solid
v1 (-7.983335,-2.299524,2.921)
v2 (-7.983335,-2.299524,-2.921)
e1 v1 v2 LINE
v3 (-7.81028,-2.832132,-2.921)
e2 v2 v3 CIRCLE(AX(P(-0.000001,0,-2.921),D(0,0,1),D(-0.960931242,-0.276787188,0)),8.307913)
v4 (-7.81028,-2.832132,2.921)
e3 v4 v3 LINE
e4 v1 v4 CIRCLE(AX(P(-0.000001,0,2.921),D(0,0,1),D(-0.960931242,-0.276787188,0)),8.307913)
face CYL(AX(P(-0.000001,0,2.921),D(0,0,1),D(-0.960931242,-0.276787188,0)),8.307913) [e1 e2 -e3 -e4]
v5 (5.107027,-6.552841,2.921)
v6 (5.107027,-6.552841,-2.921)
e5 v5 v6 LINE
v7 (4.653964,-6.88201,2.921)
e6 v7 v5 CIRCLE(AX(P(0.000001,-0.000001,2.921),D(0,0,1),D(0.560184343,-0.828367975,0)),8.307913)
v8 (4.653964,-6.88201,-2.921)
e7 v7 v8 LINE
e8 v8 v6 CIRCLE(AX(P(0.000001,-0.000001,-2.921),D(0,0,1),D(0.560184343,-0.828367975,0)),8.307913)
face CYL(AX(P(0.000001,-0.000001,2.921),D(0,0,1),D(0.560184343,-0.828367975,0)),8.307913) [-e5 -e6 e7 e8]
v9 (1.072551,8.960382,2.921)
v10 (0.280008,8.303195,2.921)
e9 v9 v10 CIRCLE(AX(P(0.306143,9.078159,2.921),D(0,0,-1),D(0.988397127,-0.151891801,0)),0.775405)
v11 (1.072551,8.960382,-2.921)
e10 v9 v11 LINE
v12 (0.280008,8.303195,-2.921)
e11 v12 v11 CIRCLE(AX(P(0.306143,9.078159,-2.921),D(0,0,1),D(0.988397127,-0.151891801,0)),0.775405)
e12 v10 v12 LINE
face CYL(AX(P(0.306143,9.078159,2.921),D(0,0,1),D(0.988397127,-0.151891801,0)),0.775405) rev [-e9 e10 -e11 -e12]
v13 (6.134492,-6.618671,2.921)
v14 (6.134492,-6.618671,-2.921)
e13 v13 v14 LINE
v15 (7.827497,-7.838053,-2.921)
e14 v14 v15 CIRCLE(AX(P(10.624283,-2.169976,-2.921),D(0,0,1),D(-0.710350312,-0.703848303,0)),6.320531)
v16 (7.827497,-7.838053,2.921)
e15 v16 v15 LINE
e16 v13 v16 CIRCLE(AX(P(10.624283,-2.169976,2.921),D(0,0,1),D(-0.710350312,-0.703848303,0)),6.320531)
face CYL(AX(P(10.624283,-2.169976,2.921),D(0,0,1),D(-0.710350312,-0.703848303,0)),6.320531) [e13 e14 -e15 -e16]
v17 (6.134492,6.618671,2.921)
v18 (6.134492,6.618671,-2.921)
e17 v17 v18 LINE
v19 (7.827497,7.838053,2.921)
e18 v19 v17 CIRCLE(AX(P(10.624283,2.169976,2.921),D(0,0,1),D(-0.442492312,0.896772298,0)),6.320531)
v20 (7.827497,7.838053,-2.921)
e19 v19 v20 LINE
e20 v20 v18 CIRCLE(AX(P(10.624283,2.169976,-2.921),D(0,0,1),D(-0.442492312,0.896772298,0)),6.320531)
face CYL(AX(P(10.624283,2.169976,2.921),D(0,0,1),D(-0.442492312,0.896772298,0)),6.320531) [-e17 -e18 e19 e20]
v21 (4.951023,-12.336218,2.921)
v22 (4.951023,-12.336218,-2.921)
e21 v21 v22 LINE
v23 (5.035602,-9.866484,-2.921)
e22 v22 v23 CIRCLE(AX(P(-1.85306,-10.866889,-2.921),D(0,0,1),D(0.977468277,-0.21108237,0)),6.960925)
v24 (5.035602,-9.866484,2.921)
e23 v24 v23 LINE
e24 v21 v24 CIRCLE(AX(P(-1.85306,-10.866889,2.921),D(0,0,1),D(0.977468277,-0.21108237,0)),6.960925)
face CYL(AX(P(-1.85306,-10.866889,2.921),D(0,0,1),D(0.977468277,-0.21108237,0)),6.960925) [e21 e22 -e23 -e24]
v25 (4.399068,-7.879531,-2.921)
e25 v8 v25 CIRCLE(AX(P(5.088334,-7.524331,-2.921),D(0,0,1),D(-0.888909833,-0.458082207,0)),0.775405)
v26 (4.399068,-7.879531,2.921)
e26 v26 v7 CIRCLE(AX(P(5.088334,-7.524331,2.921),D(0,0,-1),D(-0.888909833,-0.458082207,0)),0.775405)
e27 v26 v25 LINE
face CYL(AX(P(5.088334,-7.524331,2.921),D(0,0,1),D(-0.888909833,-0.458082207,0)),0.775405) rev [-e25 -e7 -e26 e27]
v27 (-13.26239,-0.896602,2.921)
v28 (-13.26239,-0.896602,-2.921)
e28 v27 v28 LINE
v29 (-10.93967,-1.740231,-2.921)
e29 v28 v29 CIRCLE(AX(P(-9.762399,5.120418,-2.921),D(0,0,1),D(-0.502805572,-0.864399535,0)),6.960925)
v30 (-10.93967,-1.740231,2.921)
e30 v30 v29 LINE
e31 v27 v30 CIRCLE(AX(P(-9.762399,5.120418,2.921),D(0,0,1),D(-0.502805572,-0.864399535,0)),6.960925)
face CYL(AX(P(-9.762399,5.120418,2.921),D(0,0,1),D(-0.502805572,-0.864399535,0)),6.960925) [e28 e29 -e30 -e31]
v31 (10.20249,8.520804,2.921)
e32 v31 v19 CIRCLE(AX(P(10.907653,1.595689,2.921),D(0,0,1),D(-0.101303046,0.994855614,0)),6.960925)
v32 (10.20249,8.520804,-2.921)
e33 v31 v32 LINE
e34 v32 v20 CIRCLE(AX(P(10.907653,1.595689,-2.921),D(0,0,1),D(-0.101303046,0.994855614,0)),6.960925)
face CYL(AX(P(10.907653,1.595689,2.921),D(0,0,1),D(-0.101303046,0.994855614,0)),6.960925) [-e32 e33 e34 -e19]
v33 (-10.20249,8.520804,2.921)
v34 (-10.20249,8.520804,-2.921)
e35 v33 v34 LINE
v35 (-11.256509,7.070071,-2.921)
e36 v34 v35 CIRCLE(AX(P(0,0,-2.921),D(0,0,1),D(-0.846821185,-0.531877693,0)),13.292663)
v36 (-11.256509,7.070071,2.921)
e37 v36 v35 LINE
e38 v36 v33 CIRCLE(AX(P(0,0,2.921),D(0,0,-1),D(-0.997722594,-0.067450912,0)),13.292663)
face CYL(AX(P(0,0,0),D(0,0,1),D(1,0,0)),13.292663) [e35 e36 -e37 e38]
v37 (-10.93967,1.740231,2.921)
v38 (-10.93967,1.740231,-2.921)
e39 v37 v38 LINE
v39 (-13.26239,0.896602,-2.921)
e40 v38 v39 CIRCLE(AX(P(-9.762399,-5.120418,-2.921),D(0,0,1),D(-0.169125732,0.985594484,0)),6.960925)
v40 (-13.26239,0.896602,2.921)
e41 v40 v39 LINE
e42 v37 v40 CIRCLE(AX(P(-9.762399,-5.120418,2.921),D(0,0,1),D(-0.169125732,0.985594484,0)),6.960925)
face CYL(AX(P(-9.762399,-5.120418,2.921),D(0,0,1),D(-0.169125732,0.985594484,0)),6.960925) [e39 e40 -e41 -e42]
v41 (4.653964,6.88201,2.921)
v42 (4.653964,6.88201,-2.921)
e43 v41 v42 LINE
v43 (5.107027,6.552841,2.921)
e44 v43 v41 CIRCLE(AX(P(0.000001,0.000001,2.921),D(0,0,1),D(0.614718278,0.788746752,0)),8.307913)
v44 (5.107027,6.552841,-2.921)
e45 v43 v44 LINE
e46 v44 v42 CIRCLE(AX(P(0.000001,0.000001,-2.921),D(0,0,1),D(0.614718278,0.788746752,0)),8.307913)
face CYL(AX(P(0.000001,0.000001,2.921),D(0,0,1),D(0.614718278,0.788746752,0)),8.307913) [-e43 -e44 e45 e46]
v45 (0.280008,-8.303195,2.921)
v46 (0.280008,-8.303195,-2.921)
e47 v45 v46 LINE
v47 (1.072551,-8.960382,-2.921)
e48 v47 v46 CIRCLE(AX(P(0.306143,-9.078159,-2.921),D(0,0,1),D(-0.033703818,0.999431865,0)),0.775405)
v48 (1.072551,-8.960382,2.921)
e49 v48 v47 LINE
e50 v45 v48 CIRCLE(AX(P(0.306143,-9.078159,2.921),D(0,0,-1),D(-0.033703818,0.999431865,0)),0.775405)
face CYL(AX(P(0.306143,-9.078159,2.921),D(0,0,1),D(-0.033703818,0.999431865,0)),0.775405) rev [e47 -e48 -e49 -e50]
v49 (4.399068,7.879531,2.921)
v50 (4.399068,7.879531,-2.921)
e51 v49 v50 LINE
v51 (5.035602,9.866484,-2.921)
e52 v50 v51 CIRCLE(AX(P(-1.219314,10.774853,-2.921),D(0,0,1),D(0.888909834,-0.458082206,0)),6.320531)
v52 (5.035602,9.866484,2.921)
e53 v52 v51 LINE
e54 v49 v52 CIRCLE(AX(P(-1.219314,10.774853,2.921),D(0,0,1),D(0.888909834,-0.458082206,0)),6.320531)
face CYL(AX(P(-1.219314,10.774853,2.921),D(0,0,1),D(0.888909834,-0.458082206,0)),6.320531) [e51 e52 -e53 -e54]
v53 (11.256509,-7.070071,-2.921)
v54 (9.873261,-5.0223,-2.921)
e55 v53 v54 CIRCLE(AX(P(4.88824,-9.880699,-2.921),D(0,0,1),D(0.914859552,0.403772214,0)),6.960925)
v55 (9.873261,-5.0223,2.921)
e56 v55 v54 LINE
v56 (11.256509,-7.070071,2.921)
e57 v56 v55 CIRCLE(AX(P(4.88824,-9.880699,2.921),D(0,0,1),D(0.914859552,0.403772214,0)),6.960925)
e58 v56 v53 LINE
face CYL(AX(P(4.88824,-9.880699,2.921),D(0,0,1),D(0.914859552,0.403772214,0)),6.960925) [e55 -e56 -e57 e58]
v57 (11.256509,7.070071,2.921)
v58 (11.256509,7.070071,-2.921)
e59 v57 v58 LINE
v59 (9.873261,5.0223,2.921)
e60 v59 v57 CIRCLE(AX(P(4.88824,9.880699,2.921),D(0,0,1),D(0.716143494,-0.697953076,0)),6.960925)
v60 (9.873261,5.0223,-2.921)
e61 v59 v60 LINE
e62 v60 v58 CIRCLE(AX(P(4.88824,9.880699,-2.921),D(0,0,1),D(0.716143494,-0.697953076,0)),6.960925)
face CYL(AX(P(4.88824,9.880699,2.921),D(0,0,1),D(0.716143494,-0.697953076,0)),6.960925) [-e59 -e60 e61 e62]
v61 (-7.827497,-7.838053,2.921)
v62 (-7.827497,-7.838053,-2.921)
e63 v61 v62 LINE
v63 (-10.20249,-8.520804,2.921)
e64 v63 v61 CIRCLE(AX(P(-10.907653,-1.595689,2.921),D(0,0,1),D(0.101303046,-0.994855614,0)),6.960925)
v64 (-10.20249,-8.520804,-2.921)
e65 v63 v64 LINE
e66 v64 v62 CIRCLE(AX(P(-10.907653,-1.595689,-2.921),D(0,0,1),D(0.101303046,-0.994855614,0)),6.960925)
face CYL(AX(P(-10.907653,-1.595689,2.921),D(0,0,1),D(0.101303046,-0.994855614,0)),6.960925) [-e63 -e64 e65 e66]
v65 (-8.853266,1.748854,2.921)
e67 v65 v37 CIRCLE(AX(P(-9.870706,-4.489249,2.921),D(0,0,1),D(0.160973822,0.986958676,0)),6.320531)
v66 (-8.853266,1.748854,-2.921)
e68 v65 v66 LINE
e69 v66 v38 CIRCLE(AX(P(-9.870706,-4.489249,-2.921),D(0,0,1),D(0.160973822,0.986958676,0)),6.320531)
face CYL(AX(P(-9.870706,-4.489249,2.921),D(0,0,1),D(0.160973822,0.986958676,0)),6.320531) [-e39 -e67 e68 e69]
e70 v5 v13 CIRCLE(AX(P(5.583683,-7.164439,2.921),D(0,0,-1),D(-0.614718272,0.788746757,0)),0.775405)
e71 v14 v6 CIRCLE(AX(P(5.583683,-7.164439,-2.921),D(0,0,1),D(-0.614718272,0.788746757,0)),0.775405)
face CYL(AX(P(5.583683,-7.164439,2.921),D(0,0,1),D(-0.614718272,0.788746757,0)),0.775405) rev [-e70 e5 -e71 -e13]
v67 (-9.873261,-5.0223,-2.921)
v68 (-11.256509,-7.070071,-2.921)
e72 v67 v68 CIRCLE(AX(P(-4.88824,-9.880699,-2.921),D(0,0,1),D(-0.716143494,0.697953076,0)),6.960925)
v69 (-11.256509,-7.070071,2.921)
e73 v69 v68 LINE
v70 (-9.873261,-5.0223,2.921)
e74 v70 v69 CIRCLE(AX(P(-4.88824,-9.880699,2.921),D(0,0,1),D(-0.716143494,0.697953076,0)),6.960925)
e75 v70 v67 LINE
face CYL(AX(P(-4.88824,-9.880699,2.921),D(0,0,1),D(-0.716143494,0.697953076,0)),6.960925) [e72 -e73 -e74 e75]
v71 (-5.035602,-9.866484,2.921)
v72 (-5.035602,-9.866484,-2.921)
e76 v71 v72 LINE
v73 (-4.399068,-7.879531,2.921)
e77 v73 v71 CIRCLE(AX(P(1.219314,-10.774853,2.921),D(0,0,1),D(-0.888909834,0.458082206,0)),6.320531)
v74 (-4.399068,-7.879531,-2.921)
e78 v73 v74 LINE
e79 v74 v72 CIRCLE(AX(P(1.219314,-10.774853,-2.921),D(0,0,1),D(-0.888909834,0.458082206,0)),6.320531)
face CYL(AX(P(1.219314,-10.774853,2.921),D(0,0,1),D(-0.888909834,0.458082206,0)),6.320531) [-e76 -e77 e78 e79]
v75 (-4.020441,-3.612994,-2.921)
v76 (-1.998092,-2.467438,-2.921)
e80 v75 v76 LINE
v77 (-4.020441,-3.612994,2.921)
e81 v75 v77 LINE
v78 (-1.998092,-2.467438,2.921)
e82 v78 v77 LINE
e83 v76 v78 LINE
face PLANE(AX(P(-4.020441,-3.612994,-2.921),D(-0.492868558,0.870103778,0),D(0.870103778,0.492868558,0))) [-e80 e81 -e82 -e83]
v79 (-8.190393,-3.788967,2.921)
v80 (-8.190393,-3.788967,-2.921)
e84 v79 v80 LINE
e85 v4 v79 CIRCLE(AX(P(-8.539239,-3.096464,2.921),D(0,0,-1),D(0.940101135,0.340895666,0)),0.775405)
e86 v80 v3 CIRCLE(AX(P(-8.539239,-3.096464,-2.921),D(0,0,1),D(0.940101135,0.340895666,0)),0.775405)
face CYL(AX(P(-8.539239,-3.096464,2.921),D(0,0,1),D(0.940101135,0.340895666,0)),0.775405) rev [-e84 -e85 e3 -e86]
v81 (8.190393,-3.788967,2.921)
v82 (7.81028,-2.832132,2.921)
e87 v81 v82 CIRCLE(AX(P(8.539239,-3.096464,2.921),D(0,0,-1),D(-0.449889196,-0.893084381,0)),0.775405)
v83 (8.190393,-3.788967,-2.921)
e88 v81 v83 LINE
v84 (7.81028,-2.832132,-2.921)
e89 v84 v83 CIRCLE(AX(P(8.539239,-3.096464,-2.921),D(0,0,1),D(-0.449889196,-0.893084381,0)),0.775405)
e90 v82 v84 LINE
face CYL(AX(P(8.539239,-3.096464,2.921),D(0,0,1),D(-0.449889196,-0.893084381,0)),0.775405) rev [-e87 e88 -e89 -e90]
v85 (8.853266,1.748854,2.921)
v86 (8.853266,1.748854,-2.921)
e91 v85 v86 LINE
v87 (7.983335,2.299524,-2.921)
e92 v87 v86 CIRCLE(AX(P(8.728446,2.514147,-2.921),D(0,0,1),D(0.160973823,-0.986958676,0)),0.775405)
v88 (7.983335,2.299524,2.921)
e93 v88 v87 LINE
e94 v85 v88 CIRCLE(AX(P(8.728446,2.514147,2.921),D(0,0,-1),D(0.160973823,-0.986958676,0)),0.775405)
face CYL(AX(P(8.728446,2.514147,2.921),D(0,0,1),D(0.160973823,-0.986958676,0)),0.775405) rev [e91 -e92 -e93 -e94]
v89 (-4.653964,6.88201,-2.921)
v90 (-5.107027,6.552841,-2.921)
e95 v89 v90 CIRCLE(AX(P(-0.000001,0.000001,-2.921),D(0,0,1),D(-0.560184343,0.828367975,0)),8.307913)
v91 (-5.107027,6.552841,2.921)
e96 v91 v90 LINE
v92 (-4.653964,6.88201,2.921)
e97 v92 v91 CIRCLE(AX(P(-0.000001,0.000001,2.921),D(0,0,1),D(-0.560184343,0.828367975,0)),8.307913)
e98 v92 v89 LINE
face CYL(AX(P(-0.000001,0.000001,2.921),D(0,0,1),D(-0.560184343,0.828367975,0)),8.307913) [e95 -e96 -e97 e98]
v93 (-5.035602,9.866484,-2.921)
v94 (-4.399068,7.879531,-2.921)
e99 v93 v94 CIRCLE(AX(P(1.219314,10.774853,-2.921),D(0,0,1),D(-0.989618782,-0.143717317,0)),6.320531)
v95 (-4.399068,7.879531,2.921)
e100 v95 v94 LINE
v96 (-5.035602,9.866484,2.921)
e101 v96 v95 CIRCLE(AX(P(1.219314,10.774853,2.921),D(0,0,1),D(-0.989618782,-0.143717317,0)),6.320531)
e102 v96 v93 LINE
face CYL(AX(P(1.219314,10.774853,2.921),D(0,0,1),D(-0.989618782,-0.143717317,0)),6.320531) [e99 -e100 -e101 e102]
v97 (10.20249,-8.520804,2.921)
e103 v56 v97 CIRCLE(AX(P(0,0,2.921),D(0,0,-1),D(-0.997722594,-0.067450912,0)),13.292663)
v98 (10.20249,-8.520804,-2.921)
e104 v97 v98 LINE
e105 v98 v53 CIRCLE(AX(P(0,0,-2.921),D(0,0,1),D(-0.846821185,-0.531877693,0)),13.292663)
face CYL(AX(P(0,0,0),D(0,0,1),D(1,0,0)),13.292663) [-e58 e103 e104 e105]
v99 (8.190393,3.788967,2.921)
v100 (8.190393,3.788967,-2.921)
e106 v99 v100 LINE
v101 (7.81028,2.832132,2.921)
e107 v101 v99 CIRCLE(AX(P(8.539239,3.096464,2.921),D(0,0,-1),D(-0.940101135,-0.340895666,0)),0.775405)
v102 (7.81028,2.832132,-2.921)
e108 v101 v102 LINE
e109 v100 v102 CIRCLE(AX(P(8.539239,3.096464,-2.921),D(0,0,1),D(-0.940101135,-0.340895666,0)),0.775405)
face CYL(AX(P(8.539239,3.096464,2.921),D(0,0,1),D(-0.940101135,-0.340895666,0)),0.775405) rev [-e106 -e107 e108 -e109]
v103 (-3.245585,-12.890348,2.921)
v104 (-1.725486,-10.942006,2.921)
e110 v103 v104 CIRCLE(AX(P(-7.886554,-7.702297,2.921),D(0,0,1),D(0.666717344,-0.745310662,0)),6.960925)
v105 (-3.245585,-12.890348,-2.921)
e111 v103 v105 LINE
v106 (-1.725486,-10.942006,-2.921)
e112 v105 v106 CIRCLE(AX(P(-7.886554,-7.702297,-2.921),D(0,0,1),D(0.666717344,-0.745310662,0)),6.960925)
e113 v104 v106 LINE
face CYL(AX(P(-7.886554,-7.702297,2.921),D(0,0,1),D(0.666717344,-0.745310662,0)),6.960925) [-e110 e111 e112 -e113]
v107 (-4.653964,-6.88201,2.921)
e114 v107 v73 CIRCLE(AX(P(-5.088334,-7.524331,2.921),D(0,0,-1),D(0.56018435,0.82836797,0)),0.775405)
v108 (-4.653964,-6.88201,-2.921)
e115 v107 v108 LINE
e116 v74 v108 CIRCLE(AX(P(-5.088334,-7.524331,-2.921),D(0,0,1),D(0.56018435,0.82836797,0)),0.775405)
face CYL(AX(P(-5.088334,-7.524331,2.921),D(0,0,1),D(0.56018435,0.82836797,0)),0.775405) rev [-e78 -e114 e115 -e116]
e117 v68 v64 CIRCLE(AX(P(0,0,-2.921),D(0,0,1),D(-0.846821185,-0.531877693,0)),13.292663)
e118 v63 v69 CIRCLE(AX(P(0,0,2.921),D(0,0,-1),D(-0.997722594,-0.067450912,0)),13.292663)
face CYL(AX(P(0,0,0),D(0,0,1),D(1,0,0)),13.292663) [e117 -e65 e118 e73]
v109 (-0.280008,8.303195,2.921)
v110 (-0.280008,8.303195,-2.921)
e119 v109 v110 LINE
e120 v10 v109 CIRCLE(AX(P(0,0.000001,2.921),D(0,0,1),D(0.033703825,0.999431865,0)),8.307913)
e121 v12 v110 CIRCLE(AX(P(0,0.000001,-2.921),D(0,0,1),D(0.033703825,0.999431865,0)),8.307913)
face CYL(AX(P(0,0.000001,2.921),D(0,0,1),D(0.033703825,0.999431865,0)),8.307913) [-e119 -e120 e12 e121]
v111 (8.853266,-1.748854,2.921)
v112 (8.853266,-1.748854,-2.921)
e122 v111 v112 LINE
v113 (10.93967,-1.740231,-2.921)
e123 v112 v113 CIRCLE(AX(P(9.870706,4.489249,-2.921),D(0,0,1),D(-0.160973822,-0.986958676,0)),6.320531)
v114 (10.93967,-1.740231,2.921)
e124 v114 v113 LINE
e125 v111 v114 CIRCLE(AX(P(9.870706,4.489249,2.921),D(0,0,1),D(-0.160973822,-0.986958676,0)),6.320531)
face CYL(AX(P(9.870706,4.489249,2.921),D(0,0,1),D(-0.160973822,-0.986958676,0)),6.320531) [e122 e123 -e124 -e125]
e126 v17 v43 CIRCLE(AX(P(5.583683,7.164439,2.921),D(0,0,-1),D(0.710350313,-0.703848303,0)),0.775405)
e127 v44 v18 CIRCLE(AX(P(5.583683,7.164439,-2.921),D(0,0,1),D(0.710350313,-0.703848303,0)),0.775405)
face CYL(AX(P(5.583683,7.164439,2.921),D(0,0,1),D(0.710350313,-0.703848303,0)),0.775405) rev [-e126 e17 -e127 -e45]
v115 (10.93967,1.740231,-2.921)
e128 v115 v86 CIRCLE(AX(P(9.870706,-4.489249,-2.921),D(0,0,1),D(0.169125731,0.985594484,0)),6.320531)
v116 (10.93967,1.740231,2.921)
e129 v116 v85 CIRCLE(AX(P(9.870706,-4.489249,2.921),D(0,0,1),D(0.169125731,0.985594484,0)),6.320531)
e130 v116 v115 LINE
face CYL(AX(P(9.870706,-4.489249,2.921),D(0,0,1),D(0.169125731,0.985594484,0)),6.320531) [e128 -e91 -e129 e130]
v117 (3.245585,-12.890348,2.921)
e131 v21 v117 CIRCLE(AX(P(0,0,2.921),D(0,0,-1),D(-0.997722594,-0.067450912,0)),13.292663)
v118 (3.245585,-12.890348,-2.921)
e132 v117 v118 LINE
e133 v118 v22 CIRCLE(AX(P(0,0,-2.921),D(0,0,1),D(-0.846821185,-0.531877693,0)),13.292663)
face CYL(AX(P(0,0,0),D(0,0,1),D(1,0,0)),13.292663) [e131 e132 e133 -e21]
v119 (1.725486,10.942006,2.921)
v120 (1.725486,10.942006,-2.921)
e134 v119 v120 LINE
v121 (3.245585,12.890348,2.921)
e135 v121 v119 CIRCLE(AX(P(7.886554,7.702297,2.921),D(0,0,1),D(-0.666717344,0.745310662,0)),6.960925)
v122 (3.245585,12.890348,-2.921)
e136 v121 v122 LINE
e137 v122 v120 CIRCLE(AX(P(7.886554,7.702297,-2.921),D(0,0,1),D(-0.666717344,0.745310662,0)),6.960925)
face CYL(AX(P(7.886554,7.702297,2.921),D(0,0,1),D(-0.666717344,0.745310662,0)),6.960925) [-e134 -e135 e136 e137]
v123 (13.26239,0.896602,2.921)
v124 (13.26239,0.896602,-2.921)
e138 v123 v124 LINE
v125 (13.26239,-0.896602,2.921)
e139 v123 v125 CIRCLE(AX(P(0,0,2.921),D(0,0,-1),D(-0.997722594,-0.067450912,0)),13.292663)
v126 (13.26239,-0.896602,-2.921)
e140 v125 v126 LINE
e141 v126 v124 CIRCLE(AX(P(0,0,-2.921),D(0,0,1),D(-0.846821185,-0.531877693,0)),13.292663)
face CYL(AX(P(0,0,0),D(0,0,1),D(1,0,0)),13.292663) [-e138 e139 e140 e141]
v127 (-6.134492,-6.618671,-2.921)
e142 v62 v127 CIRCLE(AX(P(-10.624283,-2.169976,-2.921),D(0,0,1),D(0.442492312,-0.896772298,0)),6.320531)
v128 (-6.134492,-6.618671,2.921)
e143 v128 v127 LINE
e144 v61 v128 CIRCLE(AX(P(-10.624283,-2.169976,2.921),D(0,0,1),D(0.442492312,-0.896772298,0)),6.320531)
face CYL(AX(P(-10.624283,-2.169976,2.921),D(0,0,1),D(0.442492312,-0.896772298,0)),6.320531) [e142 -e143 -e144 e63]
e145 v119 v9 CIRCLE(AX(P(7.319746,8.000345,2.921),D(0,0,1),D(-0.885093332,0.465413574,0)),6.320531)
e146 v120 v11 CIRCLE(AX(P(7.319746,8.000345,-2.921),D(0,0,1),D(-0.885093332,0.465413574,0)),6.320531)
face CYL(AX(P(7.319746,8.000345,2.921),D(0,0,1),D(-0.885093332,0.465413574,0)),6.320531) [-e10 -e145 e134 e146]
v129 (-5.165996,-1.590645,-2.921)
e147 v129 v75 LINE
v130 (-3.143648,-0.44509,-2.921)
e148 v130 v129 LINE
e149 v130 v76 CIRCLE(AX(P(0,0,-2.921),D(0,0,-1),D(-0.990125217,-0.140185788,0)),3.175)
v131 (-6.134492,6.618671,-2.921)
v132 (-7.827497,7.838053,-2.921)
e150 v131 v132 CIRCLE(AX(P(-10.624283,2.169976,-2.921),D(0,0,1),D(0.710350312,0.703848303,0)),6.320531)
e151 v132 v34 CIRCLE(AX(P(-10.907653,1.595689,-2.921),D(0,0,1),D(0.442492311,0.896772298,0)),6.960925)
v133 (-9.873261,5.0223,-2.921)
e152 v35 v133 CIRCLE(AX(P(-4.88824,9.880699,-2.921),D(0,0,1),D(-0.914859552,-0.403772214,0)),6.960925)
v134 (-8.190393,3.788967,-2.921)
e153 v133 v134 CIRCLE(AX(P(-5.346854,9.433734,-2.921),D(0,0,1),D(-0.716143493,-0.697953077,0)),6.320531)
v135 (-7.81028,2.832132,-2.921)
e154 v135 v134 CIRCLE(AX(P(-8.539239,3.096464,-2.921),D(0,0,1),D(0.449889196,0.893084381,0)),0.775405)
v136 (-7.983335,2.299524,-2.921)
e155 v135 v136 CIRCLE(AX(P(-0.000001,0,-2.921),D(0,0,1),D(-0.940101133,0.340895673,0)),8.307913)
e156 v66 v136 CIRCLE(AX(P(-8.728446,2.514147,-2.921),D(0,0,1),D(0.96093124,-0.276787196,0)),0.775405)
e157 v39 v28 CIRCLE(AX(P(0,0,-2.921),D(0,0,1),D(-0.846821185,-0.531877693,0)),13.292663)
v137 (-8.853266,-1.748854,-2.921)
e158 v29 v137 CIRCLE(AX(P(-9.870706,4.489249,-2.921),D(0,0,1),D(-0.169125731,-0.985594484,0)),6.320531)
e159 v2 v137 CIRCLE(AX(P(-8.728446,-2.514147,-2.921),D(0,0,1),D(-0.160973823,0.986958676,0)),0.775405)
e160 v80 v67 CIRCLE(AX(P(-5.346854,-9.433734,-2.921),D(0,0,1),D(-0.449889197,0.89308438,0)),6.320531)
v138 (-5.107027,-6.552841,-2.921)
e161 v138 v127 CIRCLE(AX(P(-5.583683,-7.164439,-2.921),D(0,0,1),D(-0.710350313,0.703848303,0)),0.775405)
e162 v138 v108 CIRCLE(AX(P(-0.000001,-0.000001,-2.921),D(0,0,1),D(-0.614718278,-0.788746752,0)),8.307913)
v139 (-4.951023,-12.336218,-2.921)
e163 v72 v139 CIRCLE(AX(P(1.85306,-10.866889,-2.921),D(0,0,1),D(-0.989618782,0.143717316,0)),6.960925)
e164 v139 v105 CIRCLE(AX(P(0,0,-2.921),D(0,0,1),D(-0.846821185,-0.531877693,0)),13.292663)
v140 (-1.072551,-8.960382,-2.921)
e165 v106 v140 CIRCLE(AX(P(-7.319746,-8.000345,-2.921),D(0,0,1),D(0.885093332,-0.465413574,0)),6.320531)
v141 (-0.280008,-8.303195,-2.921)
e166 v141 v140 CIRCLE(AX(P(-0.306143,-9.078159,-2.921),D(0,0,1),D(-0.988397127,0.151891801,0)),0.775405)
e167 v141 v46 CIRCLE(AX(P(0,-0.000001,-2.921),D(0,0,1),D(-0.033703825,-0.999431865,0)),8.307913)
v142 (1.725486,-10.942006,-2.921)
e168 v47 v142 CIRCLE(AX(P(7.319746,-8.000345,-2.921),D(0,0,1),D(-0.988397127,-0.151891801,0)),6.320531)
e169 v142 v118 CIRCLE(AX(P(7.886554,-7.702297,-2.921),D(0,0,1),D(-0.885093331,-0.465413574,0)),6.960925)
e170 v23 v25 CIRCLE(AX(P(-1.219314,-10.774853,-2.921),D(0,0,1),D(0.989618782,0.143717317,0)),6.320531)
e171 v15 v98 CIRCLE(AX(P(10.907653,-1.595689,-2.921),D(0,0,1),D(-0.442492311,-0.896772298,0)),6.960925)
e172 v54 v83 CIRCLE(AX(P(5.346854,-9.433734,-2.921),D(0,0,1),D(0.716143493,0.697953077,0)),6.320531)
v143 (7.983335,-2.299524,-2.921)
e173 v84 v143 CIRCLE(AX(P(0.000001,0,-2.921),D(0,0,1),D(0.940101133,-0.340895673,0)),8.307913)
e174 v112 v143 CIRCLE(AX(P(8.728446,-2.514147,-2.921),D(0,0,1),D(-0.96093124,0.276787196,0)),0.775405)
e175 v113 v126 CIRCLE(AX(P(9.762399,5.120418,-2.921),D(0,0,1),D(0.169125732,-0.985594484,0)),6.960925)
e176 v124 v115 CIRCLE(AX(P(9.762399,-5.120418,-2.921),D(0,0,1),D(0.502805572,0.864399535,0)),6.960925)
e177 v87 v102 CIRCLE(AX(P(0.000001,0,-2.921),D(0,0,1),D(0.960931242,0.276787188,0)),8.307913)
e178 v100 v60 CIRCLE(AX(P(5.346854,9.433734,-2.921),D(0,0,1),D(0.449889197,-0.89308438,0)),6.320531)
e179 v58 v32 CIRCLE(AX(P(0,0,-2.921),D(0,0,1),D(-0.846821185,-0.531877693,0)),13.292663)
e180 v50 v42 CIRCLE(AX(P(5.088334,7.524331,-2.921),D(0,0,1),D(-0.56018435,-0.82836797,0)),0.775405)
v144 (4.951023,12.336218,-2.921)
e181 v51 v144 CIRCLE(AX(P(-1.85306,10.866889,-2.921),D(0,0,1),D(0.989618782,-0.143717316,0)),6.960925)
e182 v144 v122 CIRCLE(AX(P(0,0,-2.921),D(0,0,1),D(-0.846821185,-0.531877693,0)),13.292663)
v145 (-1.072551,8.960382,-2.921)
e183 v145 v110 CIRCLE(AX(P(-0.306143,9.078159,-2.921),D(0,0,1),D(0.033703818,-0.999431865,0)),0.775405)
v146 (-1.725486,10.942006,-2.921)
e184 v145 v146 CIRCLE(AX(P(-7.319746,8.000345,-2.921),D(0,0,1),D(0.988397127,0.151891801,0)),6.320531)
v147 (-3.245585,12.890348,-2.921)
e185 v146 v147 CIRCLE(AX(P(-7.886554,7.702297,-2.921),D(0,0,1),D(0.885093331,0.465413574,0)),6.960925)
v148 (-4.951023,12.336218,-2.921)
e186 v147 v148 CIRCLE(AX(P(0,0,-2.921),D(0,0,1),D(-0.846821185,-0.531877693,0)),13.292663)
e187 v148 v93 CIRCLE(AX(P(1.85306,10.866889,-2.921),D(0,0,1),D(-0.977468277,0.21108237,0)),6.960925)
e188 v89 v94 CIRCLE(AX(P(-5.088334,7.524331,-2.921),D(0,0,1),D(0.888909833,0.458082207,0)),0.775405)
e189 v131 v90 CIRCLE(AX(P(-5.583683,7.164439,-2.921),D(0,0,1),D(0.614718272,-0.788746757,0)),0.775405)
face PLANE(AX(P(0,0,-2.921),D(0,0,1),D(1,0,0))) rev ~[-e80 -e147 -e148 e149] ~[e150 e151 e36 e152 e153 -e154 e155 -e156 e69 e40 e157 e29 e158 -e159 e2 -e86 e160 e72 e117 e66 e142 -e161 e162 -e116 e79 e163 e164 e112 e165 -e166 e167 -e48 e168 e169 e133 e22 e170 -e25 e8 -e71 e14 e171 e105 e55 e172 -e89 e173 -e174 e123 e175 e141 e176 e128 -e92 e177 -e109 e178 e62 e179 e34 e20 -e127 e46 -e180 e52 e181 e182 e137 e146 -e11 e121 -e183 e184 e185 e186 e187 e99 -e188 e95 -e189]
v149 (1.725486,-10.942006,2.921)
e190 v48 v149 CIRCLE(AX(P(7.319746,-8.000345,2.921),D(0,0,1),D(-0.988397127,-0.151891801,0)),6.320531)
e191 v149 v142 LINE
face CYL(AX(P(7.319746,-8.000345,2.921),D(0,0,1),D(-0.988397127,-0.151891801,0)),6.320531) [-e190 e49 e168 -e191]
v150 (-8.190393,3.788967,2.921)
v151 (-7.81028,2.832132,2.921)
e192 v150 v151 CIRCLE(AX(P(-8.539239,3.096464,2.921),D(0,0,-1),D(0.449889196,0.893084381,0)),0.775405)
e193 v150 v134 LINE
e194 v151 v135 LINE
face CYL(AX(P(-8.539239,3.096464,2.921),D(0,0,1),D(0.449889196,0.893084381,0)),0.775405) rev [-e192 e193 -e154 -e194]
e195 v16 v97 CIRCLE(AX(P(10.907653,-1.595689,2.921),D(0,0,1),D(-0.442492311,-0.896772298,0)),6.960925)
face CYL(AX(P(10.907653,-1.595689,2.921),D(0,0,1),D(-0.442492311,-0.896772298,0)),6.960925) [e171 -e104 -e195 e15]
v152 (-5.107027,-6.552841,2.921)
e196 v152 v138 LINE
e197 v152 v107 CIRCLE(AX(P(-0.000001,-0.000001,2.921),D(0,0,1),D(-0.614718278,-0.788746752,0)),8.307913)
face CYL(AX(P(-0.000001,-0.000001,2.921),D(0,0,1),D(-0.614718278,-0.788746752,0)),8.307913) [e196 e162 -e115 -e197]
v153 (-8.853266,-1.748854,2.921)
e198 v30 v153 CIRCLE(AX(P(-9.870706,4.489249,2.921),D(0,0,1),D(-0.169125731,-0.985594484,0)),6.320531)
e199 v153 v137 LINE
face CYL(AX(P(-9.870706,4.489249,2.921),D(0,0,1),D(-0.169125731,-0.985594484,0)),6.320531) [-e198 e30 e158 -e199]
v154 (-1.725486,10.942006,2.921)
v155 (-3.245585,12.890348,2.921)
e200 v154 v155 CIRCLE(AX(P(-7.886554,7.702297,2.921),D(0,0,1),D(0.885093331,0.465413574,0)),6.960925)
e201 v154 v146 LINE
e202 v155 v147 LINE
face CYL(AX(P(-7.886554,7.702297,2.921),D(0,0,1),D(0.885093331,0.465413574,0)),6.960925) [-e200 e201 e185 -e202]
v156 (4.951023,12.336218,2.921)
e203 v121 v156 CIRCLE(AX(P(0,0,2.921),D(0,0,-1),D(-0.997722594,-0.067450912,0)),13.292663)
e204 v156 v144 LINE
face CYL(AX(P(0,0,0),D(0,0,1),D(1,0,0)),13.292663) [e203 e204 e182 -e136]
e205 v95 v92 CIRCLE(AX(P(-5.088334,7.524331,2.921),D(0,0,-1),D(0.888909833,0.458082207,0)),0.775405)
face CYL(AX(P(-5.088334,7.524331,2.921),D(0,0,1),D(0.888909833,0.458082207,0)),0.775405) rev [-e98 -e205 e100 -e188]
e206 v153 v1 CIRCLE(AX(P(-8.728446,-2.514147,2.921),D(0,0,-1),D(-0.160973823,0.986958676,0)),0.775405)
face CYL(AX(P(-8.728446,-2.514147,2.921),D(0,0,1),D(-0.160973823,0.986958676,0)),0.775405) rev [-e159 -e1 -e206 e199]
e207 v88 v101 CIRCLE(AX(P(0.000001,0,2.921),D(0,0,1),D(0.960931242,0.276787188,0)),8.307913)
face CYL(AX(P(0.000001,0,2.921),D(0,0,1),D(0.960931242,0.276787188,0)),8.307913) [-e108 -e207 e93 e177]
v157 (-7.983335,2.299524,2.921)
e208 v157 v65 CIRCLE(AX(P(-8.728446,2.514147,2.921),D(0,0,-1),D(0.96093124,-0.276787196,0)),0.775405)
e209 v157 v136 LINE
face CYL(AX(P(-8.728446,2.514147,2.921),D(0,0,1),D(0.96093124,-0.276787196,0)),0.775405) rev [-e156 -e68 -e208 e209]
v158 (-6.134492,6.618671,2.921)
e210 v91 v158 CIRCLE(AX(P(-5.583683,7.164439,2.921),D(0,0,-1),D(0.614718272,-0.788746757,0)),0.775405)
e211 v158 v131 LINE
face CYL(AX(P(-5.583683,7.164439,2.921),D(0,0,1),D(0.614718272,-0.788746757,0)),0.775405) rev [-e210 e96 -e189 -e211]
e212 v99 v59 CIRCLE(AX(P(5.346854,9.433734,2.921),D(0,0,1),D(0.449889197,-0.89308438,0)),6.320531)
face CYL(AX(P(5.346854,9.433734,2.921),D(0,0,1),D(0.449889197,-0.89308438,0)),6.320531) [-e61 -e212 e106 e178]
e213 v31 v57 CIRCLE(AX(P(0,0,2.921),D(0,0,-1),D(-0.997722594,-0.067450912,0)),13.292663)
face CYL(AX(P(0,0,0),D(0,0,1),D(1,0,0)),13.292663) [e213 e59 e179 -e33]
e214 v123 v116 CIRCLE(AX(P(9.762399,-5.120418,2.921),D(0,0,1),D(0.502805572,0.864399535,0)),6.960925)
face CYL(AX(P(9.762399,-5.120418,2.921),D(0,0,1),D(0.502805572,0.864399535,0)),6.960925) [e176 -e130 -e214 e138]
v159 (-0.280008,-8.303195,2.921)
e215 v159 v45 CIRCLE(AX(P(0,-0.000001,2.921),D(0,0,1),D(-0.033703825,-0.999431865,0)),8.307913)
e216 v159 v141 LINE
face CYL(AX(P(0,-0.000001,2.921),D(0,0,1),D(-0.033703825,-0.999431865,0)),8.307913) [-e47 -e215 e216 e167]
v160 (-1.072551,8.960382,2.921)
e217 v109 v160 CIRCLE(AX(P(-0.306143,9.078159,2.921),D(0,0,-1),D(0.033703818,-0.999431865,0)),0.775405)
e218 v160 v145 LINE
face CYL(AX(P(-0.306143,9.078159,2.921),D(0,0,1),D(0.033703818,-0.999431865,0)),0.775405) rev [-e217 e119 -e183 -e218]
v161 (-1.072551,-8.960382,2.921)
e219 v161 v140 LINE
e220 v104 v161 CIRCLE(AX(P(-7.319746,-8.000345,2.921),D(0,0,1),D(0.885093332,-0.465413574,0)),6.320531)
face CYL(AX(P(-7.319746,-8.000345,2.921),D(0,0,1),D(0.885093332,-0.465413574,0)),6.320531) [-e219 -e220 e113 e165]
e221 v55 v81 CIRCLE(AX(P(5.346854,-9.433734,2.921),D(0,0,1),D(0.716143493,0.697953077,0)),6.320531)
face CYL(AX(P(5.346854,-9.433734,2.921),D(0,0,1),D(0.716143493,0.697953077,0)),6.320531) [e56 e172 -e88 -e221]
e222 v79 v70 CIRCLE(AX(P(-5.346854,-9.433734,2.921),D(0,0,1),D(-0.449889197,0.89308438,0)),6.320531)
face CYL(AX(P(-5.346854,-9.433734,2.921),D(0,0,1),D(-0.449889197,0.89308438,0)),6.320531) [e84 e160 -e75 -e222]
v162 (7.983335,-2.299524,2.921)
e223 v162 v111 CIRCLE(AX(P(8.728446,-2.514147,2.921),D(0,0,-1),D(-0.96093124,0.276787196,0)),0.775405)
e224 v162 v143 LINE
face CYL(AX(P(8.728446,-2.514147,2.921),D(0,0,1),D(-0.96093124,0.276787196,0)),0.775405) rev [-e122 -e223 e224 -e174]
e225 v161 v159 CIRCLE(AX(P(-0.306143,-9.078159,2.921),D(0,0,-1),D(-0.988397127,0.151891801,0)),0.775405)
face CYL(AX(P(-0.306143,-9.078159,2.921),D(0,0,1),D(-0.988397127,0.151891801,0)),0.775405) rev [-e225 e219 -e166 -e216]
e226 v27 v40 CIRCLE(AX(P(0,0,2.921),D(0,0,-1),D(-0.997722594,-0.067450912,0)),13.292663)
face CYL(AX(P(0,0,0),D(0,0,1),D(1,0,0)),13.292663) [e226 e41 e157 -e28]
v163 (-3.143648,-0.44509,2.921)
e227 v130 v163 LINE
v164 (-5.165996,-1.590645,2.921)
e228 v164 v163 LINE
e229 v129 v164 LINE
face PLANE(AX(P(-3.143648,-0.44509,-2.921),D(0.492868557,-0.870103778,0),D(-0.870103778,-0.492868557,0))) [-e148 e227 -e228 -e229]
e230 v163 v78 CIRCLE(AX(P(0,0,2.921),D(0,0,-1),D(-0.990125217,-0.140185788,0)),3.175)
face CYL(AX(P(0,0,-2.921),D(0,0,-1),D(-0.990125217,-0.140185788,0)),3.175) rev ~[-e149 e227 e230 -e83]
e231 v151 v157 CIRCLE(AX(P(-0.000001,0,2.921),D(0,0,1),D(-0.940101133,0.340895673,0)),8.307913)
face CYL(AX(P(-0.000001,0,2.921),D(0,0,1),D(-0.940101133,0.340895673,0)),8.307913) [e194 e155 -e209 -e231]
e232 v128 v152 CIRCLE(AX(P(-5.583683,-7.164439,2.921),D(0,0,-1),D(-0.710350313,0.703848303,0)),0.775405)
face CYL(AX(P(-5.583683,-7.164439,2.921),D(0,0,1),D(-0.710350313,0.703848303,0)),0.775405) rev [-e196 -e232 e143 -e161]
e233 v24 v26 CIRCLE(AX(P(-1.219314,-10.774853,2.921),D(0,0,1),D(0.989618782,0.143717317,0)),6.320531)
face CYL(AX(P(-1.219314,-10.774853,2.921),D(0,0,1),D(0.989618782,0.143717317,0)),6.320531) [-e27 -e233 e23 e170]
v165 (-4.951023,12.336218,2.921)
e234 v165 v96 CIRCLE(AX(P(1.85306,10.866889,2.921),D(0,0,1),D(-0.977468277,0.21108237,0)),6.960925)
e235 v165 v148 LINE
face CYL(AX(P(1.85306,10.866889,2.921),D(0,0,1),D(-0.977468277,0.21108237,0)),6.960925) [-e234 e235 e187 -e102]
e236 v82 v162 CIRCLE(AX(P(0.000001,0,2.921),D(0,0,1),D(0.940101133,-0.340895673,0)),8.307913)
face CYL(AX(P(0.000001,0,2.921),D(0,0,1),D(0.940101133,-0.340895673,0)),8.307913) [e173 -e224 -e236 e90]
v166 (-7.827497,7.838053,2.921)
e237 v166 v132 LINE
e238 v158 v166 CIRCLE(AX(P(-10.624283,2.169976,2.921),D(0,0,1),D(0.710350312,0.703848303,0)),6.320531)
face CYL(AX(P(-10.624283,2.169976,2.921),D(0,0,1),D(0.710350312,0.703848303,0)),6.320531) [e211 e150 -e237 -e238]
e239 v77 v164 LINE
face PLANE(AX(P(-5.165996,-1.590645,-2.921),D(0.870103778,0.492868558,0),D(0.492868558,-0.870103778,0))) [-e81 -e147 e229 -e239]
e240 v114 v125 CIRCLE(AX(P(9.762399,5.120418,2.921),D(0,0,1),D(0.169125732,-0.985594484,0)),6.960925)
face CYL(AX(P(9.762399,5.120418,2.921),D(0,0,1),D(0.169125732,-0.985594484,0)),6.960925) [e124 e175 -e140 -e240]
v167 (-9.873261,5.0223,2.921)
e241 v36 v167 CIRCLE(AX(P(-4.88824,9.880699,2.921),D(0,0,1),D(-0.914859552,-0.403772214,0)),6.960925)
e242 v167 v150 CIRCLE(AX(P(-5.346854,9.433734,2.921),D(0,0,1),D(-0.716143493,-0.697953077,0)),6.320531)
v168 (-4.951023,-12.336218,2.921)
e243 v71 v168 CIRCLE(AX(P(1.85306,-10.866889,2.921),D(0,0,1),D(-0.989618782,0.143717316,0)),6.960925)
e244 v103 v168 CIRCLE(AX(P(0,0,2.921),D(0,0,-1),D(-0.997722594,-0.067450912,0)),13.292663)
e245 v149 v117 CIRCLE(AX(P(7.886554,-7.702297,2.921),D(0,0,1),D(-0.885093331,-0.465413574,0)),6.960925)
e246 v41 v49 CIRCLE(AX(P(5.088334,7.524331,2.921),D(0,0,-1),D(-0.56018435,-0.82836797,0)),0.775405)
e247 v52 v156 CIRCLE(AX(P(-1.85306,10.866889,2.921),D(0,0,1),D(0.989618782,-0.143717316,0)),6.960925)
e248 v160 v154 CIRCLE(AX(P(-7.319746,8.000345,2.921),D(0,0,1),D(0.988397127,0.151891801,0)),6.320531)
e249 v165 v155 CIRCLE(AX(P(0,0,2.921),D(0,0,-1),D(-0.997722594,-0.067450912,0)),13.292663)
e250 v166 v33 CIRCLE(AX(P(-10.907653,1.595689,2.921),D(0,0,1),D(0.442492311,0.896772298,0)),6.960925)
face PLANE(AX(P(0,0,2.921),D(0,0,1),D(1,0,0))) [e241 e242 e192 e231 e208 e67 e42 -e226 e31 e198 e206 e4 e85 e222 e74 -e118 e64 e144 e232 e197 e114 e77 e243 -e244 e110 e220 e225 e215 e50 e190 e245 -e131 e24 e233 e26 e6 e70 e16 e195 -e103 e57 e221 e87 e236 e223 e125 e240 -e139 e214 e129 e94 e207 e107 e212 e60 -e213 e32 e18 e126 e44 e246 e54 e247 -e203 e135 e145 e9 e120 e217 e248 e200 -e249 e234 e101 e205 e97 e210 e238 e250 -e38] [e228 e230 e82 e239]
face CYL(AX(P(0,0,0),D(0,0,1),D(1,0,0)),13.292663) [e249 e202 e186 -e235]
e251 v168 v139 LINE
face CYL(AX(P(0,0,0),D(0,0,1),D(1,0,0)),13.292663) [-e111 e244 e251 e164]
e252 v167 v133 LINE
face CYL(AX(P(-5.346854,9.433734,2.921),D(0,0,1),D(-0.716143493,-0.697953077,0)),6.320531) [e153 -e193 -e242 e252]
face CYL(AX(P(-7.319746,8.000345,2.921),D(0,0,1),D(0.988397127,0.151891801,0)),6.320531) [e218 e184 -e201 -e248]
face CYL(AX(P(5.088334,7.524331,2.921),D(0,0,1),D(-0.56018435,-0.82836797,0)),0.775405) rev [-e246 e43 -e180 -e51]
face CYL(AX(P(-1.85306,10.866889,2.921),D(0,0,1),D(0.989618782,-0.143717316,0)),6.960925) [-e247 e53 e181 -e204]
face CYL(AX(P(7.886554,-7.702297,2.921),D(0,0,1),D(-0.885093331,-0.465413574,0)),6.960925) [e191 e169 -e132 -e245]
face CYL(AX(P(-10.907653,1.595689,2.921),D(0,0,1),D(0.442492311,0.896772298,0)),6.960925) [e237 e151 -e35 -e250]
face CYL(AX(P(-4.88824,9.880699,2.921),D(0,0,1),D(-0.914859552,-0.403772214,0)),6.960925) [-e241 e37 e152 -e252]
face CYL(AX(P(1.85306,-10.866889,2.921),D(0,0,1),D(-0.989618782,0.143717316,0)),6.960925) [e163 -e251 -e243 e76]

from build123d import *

# Parameters (mm, degrees)
SKETCH1_R          = 13.29266328
GEAR_BASE_DEPTH    = 2.921
GEAR_CUT_DEPTH     = 20.685496137
GEAR_TEETH_COUNT   = 10
CUT_EXTRUDE2_DEPTH = 20.416099984


with BuildPart() as part:
    # Sketch1 → GEAR_BASE (new, symmetric)
    with BuildSketch(Plane.XY):
        Circle(SKETCH1_R)
    extrude(amount=GEAR_BASE_DEPTH, both=True)

    # Sketch2 → GEAR_CUT (cut, through all)
    with BuildSketch(Plane.XY.offset(2.921)):
        with BuildLine():
            ThreePointArc((-11.256508875, -7.070071076), (-12.642074031, -4.107658854), (-13.262390488, -0.896602257))
            ThreePointArc((-13.262390488, -0.896602257), (-12.138766836, -1.422314596), (-10.939670247, -1.740231168))
            ThreePointArc((-10.939670247, -1.740231168), (-9.896826282, -1.831227702), (-8.853265833, -1.748853585))
            ThreePointArc((-8.853265833, -1.748853585), (-8.313717175, -1.858972165), (-7.983334635, -2.299524357))
            ThreePointArc((-7.983334635, -2.299524357), (-7.90129627, -2.567286784), (-7.810279896, -2.832132079))
            ThreePointArc((-7.810279896, -2.832132079), (-7.818614904, -3.382740273), (-8.19039286, -3.78896682))
            ThreePointArc((-8.19039286, -3.78896682), (-9.083069289, -4.335714202), (-9.873261359, -5.022300247))
            ThreePointArc((-9.873261359, -5.022300247), (-10.656484205, -5.984311448), (-11.256508875, -7.070071076))
        make_face()
    gear_cut = extrude(amount=-GEAR_CUT_DEPTH, mode=Mode.SUBTRACT)

    # GEAR_TEETH: GEAR_CUT ×10 about axis
    gear_teeth_axis = Axis((0, 0, 50), (0, 0, -1))
    for i in range(1, GEAR_TEETH_COUNT):
        add(gear_cut.rotate(gear_teeth_axis, i * 360 / GEAR_TEETH_COUNT), mode=Mode.SUBTRACT)

    # Sketch9 → Cut-Extrude2 (cut, through all)
    with BuildSketch(Plane(origin=(0, 0, -2.921), x_dir=(-1, 0, 0), z_dir=(0, 0, -1))):
        with BuildLine():
            Line((1.998092242, -2.467438428), (4.020440792, -3.612993749))
            Line((4.020440792, -3.612993749), (5.165996114, -1.590645198))
            Line((5.165996114, -1.590645198), (3.143647563, -0.445089877))
            ThreePointArc((3.143647563, -0.445089877), (-2.762579496, 1.564857671), (1.998092242, -2.467438428))
        make_face()
    extrude(amount=-CUT_EXTRUDE2_DEPTH, mode=Mode.SUBTRACT)


solid = part.part
